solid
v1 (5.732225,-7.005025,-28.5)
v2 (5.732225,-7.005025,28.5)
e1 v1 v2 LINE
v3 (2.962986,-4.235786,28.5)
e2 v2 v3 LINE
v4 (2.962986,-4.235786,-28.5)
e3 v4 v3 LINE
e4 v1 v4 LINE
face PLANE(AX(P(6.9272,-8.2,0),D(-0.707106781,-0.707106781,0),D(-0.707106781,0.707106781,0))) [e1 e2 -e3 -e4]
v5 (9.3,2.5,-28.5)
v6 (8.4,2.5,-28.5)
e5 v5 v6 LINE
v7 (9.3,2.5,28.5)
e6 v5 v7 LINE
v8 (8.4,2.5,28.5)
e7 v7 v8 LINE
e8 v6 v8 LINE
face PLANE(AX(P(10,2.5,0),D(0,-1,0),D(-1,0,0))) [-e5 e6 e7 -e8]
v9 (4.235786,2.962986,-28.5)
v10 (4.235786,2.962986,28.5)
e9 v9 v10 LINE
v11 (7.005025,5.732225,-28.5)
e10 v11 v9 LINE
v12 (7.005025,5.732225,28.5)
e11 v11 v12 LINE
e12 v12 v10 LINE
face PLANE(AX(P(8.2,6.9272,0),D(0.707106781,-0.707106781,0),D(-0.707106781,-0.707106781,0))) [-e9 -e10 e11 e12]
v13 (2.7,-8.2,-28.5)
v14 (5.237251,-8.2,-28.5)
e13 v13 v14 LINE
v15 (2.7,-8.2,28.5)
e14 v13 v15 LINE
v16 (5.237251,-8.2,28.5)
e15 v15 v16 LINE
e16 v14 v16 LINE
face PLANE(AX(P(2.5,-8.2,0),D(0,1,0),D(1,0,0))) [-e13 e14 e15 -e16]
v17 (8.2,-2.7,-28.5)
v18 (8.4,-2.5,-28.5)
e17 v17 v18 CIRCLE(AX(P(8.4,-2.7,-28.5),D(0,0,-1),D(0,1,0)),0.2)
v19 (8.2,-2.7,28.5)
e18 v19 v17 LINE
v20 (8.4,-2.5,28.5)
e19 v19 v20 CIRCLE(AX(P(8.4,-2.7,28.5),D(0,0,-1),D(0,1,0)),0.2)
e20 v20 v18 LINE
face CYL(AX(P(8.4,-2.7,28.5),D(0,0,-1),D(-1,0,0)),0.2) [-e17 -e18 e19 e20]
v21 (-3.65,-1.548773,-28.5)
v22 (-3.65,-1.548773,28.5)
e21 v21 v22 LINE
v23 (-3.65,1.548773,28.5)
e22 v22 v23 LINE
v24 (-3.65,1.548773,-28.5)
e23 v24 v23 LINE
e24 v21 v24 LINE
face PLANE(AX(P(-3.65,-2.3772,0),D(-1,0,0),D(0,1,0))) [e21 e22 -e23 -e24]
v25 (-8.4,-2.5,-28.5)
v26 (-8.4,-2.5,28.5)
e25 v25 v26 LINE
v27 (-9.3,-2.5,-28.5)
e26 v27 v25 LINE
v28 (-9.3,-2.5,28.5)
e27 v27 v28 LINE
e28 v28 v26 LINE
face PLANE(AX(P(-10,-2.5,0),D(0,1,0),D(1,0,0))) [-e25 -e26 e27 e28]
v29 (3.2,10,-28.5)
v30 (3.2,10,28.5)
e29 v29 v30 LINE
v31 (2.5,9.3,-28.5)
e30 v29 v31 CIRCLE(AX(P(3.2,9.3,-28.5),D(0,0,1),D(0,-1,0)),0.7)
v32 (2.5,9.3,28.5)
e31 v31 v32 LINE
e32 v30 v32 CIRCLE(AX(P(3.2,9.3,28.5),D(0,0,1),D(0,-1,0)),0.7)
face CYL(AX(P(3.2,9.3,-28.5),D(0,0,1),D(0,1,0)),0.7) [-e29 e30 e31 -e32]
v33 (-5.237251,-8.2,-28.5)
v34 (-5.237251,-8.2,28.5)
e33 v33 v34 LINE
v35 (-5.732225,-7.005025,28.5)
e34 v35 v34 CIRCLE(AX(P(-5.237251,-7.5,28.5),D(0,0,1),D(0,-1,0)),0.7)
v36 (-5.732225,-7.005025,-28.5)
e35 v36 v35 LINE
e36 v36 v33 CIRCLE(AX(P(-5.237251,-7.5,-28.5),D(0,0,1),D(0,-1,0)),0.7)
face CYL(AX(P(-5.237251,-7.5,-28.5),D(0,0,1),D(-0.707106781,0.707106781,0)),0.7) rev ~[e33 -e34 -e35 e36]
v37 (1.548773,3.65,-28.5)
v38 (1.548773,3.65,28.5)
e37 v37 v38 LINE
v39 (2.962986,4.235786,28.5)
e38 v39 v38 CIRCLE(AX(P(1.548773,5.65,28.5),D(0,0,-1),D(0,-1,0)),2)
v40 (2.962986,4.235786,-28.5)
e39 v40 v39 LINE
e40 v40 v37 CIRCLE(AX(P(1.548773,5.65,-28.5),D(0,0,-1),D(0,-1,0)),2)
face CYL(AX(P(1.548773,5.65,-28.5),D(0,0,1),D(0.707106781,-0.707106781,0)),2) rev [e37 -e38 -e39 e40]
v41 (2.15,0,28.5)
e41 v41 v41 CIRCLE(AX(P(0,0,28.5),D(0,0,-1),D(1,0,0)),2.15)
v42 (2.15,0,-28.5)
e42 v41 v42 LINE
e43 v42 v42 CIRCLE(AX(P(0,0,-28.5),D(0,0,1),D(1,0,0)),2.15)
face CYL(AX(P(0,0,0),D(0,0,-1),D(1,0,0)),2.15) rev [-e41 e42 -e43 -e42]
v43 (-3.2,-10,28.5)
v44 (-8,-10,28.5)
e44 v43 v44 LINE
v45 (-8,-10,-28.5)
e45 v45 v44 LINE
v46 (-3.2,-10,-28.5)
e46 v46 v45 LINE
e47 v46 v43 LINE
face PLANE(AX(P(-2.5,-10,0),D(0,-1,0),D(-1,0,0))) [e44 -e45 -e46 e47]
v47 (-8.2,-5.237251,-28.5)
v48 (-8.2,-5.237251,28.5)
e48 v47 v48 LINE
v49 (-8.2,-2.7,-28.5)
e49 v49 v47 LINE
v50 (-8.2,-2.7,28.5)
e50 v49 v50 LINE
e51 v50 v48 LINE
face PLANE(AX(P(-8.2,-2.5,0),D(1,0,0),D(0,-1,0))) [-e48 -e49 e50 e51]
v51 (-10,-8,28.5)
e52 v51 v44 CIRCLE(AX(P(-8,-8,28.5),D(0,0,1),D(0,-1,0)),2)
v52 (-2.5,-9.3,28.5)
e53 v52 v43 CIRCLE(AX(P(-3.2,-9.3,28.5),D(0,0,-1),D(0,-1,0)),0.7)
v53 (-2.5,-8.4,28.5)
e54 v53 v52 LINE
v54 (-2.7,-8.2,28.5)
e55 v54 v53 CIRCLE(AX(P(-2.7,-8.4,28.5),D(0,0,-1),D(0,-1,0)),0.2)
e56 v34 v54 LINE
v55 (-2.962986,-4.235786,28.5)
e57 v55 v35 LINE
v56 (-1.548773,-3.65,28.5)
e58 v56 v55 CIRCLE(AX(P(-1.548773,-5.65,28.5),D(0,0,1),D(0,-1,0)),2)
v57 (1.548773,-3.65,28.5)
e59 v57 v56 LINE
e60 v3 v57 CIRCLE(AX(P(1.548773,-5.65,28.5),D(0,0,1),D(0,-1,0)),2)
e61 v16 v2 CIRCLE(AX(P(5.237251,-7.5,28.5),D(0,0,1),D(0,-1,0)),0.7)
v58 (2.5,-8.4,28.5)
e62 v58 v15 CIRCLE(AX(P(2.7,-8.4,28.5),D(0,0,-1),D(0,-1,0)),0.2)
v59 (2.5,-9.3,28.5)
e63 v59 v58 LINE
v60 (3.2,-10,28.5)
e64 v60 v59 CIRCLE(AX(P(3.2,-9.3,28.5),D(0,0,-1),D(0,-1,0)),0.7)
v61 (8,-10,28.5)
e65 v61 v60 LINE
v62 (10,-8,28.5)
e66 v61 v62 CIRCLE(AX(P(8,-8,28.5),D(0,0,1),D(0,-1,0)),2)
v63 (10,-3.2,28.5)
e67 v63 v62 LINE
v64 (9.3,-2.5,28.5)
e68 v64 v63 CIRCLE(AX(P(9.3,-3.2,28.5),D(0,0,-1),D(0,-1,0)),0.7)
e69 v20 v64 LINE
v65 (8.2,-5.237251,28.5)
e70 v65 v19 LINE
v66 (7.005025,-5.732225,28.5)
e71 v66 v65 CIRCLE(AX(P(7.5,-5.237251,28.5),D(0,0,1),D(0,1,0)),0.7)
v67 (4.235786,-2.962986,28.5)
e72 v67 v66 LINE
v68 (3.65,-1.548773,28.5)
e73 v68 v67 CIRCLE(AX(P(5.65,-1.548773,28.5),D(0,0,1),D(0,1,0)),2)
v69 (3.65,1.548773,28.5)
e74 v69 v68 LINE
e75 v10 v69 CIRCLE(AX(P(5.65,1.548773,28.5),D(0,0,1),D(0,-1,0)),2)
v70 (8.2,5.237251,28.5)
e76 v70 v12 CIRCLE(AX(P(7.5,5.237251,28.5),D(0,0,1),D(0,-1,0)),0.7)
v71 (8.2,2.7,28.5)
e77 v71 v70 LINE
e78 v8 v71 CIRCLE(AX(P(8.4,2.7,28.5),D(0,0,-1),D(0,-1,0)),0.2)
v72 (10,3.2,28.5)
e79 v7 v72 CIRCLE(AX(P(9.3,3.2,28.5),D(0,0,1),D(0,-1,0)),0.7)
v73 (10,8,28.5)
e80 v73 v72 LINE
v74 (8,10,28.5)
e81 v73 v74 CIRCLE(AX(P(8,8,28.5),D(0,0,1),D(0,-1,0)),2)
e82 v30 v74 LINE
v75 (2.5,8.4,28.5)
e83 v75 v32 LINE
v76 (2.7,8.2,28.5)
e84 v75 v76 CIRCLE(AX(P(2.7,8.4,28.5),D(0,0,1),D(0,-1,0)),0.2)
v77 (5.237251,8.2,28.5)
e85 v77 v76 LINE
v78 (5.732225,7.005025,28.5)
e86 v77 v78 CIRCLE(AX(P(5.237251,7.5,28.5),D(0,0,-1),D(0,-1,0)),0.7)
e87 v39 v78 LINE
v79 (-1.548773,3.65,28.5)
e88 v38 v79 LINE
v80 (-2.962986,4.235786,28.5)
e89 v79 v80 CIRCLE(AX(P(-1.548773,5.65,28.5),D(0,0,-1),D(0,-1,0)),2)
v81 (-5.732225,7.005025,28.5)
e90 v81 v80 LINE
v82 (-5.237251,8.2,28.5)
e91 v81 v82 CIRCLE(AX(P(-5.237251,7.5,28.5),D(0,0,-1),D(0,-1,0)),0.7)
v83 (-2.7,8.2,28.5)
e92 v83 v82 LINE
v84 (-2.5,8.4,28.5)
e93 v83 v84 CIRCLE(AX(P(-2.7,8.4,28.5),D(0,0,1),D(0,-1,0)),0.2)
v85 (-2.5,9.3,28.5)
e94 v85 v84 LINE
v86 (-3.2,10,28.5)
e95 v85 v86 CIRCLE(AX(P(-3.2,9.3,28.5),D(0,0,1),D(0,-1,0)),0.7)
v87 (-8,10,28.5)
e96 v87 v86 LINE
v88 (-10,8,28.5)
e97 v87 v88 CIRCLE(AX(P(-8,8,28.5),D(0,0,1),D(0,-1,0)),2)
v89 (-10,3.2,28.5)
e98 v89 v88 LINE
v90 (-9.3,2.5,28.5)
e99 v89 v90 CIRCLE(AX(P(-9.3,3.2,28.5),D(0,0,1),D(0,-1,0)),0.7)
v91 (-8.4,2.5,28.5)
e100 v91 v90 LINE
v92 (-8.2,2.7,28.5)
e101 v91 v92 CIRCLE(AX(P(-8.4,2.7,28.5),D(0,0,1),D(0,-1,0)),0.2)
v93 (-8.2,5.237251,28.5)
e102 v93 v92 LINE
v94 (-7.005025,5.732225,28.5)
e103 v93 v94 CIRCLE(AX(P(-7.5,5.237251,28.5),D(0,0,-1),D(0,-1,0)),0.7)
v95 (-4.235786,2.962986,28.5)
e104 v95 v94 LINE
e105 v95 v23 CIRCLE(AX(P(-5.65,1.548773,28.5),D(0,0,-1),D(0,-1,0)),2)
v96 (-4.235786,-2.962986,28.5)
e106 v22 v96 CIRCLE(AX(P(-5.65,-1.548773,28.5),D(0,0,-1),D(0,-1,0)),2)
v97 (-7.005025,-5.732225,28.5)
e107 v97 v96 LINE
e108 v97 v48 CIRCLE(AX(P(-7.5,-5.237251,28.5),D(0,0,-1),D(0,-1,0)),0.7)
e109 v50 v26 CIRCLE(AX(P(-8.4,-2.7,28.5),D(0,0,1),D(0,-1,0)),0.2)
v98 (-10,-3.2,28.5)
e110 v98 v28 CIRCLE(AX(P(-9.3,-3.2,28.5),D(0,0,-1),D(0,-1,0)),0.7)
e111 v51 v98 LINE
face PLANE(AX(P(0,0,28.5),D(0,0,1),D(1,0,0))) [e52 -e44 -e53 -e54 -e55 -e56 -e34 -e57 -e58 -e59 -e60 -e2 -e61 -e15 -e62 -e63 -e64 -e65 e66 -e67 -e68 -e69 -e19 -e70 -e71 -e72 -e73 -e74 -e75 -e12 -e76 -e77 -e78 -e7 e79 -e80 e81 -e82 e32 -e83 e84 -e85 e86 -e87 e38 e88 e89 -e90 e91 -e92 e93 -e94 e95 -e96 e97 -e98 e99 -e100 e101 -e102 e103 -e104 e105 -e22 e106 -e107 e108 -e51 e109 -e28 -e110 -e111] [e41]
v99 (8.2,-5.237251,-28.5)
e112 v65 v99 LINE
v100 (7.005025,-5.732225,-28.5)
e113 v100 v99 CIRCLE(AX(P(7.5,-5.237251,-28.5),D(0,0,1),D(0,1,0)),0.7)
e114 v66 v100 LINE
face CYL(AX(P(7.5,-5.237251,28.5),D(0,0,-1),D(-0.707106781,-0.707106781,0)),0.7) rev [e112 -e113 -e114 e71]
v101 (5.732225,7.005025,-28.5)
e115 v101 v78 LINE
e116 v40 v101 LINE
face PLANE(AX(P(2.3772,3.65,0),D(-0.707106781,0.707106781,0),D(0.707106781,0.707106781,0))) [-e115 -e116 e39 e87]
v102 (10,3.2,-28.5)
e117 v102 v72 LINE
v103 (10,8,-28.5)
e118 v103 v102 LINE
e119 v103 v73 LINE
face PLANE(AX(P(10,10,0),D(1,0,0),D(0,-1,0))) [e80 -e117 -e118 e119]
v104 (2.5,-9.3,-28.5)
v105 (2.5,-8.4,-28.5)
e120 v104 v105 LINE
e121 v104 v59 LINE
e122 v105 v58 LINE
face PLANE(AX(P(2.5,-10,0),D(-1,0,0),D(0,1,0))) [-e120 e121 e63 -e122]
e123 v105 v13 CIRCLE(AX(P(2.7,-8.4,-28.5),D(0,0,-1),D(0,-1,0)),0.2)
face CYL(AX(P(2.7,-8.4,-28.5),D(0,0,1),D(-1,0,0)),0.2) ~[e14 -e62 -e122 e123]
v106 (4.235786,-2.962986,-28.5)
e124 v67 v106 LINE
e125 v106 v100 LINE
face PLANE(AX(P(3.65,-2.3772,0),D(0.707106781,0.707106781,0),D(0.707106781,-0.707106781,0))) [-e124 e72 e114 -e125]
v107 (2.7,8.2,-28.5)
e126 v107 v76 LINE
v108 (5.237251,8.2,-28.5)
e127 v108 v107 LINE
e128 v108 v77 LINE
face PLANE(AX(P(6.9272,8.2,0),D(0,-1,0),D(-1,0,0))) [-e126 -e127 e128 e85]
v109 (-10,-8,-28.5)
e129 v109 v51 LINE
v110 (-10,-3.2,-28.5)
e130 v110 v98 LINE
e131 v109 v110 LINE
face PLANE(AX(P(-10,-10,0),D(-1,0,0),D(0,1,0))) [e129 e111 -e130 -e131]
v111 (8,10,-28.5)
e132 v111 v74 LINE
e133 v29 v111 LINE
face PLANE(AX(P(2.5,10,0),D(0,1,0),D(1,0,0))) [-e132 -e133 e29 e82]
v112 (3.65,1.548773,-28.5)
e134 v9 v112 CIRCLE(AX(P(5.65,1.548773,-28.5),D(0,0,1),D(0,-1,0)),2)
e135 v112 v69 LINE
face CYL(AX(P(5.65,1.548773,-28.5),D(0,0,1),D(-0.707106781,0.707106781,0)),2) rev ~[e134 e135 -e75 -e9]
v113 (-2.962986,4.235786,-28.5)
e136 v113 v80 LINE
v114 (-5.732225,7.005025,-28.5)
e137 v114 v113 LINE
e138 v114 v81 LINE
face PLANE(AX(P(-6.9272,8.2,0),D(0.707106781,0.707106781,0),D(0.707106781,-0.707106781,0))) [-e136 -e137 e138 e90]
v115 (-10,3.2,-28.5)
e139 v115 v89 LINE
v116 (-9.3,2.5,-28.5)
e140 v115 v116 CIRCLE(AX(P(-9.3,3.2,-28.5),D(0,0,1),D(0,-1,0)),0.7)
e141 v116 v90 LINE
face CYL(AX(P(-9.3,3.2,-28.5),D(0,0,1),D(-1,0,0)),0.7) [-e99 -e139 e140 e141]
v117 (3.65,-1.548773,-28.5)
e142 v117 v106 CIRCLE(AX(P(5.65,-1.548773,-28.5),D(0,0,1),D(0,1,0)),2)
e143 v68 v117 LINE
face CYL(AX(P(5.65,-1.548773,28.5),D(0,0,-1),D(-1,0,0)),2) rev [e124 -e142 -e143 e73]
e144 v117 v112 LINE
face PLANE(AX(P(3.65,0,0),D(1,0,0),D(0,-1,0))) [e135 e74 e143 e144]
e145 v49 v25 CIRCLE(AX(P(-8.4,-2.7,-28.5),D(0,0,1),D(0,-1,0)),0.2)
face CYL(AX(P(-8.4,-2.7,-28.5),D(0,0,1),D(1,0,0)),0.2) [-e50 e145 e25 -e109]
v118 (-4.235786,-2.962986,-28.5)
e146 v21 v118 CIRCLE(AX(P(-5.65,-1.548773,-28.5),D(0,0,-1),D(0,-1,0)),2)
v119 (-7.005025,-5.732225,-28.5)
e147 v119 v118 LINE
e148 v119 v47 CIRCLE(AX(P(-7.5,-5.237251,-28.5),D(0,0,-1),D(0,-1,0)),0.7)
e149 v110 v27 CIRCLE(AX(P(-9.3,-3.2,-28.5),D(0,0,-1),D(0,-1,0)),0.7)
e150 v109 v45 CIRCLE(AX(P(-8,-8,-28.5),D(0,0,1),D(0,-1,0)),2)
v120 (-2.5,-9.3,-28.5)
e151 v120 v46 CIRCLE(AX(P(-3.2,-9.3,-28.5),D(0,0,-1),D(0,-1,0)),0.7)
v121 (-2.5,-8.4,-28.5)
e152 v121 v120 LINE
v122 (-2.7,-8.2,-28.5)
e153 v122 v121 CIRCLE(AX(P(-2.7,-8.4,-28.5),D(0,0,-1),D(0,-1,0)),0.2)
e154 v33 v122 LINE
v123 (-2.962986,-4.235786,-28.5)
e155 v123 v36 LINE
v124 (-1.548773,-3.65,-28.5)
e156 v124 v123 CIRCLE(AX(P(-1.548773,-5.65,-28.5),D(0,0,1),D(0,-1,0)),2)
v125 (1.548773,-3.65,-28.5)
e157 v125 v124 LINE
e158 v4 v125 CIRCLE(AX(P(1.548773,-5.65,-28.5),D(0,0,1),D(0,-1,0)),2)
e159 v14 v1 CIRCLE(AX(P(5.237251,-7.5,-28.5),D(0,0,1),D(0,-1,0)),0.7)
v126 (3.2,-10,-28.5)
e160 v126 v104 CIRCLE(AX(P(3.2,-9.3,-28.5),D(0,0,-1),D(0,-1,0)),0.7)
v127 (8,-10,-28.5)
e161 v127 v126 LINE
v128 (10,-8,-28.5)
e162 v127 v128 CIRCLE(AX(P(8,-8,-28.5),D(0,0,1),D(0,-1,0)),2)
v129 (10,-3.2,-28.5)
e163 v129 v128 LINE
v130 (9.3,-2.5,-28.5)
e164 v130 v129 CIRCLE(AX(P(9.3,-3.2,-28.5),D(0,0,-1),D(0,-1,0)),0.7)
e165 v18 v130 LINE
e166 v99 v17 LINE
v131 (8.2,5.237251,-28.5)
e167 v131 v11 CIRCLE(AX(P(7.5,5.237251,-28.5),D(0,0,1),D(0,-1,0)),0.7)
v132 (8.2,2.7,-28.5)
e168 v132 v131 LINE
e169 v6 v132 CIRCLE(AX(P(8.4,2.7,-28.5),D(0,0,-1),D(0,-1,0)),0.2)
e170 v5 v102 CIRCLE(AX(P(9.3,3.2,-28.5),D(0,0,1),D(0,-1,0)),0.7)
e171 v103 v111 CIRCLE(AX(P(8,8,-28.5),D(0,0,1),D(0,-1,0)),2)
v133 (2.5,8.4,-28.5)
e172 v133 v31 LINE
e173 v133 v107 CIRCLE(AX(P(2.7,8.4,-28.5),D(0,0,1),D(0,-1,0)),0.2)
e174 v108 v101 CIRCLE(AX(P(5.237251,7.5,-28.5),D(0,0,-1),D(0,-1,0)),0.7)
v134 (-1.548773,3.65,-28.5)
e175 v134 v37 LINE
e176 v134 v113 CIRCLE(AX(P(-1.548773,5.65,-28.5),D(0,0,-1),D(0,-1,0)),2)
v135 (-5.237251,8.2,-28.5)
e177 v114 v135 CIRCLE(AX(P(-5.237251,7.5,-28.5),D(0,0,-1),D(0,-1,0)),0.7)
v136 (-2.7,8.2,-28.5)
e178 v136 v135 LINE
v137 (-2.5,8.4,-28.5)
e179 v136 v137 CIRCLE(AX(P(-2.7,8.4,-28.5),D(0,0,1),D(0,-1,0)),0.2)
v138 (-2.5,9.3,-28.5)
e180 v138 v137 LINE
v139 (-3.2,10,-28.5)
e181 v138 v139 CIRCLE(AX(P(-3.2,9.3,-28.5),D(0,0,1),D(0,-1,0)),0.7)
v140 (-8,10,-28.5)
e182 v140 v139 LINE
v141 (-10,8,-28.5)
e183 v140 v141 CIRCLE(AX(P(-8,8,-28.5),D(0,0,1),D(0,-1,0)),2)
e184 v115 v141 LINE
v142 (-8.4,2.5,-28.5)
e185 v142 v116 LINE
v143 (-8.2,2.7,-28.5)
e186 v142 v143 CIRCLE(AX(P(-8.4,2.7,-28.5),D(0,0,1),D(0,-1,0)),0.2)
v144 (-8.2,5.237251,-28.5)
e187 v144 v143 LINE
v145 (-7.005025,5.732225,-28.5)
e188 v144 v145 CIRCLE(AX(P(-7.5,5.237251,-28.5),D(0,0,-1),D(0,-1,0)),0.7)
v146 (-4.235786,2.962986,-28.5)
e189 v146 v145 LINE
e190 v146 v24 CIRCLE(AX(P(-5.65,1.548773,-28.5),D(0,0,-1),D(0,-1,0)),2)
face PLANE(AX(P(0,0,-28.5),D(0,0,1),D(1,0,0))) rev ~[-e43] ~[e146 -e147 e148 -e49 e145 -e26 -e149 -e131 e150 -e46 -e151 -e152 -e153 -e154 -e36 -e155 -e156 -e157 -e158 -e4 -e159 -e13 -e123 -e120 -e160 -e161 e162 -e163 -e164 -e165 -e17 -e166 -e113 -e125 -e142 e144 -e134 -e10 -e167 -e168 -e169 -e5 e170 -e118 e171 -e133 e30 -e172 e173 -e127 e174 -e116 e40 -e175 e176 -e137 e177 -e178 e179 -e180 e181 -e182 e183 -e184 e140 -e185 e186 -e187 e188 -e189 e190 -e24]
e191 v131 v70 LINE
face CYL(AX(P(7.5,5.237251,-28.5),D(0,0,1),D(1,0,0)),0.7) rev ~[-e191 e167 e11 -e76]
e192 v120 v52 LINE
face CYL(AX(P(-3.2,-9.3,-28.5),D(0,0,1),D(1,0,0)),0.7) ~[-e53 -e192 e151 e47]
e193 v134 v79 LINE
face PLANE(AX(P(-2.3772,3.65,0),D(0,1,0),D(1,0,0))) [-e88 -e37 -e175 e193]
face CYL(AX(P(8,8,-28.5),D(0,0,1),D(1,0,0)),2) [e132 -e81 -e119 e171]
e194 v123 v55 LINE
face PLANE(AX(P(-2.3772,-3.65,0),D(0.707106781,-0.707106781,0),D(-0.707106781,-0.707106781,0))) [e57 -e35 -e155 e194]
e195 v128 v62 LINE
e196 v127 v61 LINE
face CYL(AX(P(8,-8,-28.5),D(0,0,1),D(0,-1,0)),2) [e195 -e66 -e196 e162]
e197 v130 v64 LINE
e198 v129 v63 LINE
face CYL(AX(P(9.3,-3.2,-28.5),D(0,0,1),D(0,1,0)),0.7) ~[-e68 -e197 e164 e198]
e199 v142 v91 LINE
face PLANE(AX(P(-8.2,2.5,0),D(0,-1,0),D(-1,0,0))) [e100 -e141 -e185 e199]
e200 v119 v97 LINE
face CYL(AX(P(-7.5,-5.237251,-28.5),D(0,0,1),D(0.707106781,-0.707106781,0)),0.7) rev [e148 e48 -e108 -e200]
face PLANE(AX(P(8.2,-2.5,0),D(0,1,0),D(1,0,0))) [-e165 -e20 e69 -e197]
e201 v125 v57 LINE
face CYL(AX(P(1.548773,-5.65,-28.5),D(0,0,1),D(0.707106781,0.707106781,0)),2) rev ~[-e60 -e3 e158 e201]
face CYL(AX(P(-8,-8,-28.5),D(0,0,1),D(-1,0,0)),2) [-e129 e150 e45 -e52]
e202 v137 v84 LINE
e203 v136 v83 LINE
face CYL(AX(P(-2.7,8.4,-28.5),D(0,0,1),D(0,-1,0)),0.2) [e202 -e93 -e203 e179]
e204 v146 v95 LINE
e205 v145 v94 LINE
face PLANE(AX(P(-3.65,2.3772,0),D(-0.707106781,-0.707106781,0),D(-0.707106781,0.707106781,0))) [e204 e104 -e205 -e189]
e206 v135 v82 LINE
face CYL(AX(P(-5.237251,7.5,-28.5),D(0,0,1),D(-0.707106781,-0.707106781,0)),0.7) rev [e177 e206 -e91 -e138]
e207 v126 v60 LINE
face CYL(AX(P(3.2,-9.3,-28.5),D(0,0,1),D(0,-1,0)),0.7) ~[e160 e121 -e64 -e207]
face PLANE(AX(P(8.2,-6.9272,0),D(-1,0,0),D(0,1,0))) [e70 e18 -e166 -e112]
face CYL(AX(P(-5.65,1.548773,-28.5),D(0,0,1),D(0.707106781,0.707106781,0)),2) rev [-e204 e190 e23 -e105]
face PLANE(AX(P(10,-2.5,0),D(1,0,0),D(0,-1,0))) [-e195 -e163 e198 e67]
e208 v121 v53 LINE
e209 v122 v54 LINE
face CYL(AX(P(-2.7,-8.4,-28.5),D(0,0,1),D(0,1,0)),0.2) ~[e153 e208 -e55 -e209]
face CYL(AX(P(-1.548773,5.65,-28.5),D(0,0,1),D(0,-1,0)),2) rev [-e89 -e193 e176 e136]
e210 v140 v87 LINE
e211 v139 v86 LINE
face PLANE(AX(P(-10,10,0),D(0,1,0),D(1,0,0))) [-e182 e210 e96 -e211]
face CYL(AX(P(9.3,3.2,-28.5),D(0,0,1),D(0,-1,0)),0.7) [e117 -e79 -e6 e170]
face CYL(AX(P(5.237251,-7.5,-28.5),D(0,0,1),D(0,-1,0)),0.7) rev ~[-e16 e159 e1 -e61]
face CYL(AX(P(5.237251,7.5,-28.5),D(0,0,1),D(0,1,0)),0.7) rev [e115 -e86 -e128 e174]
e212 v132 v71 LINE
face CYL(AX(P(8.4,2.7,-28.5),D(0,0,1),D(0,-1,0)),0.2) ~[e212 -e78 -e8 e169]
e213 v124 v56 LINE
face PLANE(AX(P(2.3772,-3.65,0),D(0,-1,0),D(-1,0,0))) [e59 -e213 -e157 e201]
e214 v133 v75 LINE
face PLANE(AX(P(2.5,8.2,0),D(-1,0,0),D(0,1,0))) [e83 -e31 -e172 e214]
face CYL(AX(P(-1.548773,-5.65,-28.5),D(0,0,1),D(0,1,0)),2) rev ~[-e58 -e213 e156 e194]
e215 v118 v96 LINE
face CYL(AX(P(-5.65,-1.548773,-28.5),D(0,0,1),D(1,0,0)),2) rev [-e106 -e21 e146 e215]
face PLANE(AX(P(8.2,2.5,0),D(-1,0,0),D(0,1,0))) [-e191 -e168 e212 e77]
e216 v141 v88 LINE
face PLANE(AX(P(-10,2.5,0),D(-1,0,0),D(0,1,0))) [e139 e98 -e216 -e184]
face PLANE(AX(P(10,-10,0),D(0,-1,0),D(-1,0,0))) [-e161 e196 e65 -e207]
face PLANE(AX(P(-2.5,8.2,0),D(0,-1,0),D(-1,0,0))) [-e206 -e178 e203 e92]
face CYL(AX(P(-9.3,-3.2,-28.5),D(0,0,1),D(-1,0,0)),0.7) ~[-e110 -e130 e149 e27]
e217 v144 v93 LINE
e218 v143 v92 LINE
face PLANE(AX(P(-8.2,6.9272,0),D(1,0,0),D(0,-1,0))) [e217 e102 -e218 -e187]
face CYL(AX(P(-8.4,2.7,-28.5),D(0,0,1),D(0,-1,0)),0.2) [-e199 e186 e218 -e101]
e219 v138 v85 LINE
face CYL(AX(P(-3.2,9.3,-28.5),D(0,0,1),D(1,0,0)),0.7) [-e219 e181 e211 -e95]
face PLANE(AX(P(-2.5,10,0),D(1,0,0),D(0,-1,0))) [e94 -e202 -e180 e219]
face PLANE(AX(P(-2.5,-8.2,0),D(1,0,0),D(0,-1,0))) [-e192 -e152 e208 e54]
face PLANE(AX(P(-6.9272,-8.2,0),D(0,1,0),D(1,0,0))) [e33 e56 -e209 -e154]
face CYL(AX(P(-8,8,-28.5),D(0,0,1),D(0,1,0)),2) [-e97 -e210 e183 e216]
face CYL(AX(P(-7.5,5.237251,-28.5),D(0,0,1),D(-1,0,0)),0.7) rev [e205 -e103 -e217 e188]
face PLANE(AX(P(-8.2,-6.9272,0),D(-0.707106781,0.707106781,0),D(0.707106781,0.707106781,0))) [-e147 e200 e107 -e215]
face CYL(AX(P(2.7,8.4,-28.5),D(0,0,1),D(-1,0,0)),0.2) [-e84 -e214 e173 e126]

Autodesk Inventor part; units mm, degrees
ref_plane "YZ Plane" through (0, 0, 0) normal (1, 0, 0) x (0, 1, 0)
ref_plane "XZ Plane" through (0, 0, 0) normal (0, 1, 0) x (-1, 0, 0)
ref_plane "XY Plane" through (0, 0, 0) normal (0, 0, 1) x (1, 0, 0)
sketch "Sketch1" plane through (0, 0, 0) normal (0, 0, 1) x (1, 0, 0)
  circle A0 centre (0, 0) radius 2.15
  line L0 (-10, 10) -> (-2.5, 10)
  line L1 (-2.5, 10) -> (-2.5, 8.2)
  line L2 (-2.5, 8.2) -> (-6.9272, 8.2)
  line L3 (-6.9272, 8.2) -> (-2.3772, 3.65)
  line L4 (-2.3772, 3.65) -> (2.3772, 3.65)
  line L5 (2.3772, 3.65) -> (6.9272, 8.2)
  line L6 (6.9272, 8.2) -> (2.5, 8.2)
  line L7 (2.5, 8.2) -> (2.5, 10)
  line L8 (2.5, 10) -> (10, 10)
  line L9 (10, 10) -> (10, 2.5)
  line L10 (10, 2.5) -> (8.2, 2.5)
  line L11 (8.2, 2.5) -> (8.2, 6.9272)
  line L12 (8.2, 6.9272) -> (3.65, 2.3772)
  line L13 (3.65, 2.3772) -> (3.65, -2.3772)
  line L14 (3.65, -2.3772) -> (8.2, -6.9272)
  line L15 (8.2, -6.9272) -> (8.2, -2.5)
  line L16 (8.2, -2.5) -> (10, -2.5)
  line L17 (10, -2.5) -> (10, -10)
  line L18 (10, -10) -> (2.5, -10)
  line L19 (2.5, -10) -> (2.5, -8.2)
  line L20 (2.5, -8.2) -> (6.9272, -8.2)
  line L21 (6.9272, -8.2) -> (2.3772, -3.65)
  line L22 (2.3772, -3.65) -> (-2.3772, -3.65)
  line L23 (-2.3772, -3.65) -> (-6.9272, -8.2)
  line L24 (-6.9272, -8.2) -> (-2.5, -8.2)
  line L25 (-2.5, -8.2) -> (-2.5, -10)
  line L26 (-2.5, -10) -> (-10, -10)
  line L27 (-10, -10) -> (-10, -2.5)
  line L28 (-10, -2.5) -> (-8.2, -2.5)
  line L29 (-8.2, -2.5) -> (-8.2, -6.9272)
  line L30 (-8.2, -6.9272) -> (-3.65, -2.3772)
  line L31 (-3.65, -2.3772) -> (-3.65, 2.3772)
  line L32 (-3.65, 2.3772) -> (-8.2, 6.9272)
  line L33 (-8.2, 6.9272) -> (-8.2, 2.5)
  line L34 (-8.2, 2.5) -> (-10, 2.5)
  line L35 (-10, 2.5) -> (-10, 10)
  line L36 (0, 0) -> (-30.8654, 30.8654)
  line L37 (0, 0) -> (30.8654, 30.8654)
  line L38 (0, 0) -> (42.5392, 0)
  line L39 (0, 0) -> (0, 44.3419)
  dimension "d0" = 45
  dimension "d1" = 90
  dimension "Breite" = 20
  dimension "Tiefe_Schiene" = 6.35
  dimension "d2" = 1.8
  dimension "Durchmesser_Loch" = 4.3
  dimension "Wandstaerke" = 1.8
  dimension "d3" = 1.8
  dimension "Breite_Schiene" = 5
  dimension "d4" = 5
extrude "Extrusion1" add sketch "Sketch1" along normal mid plane 57 contours L38 L13 L14 L15 L16 L17 L18 L19 L20 L21 L22 L23 L24 L25 L26 L27 L28 L29 L30 L31 L32 L33 L34 L35 L36 A0 | A0 L37 L9 L10 L11 L12 L13 L38 | A0 L39 L4 L5 L6 L7 L8 L37 | L36 L0 L1 L2 L3 L4 L39 A0
fillet "Fillet1" radius 2 4 edges at (10, 10, 0) (-10, 10, 0) (10, -10, 0) (-10, -10, 0)
fillet "Fillet2" radius 0.2 8 edges at (-2.5, 8.2, 0) (2.5, 8.2, 0) (8.2, 2.5, 0) (8.2, -2.5, 0) (-2.5, -8.2, 0) (-8.2, -2.5, 0) (-8.2, 2.5, 0) (2.5, -8.2, 0)
fillet "Fillet3" radius 0.7 16 edges at (-2.5, 10, 0) (2.5, 10, 0) (10, 2.5, 0) (10, -2.5, 0) (2.5, -10, 0) (-2.5, -10, 0) (-10, -2.5, 0) (-10, 2.5, 0) (-6.9272, -8.2, 0) (-8.2, -6.9272, 0) (6.9272, -8.2, 0) (8.2, -6.9272, 0) (8.2, 6.9272, 0) (6.9272, 8.2, 0) (-6.9272, 8.2, 0) (-8.2, 6.9272, 0)
fillet "Fillet4" radius 2 8 edges at (-3.65, 2.3772, 0) (-2.3772, 3.65, 0) (2.3772, 3.65, 0) (3.65, 2.3772, 0) (3.65, -2.3772, 0) (2.3772, -3.65, 0) (-2.3772, -3.65, 0) (-3.65, -2.3772, 0)
equation "\"d2\" = Wandstaerke"
equation "\"d3\" = Wandstaerke"
equation "\"d4\" = Breite_Schiene"
properties part number "ITEM_20x20_77mm"
